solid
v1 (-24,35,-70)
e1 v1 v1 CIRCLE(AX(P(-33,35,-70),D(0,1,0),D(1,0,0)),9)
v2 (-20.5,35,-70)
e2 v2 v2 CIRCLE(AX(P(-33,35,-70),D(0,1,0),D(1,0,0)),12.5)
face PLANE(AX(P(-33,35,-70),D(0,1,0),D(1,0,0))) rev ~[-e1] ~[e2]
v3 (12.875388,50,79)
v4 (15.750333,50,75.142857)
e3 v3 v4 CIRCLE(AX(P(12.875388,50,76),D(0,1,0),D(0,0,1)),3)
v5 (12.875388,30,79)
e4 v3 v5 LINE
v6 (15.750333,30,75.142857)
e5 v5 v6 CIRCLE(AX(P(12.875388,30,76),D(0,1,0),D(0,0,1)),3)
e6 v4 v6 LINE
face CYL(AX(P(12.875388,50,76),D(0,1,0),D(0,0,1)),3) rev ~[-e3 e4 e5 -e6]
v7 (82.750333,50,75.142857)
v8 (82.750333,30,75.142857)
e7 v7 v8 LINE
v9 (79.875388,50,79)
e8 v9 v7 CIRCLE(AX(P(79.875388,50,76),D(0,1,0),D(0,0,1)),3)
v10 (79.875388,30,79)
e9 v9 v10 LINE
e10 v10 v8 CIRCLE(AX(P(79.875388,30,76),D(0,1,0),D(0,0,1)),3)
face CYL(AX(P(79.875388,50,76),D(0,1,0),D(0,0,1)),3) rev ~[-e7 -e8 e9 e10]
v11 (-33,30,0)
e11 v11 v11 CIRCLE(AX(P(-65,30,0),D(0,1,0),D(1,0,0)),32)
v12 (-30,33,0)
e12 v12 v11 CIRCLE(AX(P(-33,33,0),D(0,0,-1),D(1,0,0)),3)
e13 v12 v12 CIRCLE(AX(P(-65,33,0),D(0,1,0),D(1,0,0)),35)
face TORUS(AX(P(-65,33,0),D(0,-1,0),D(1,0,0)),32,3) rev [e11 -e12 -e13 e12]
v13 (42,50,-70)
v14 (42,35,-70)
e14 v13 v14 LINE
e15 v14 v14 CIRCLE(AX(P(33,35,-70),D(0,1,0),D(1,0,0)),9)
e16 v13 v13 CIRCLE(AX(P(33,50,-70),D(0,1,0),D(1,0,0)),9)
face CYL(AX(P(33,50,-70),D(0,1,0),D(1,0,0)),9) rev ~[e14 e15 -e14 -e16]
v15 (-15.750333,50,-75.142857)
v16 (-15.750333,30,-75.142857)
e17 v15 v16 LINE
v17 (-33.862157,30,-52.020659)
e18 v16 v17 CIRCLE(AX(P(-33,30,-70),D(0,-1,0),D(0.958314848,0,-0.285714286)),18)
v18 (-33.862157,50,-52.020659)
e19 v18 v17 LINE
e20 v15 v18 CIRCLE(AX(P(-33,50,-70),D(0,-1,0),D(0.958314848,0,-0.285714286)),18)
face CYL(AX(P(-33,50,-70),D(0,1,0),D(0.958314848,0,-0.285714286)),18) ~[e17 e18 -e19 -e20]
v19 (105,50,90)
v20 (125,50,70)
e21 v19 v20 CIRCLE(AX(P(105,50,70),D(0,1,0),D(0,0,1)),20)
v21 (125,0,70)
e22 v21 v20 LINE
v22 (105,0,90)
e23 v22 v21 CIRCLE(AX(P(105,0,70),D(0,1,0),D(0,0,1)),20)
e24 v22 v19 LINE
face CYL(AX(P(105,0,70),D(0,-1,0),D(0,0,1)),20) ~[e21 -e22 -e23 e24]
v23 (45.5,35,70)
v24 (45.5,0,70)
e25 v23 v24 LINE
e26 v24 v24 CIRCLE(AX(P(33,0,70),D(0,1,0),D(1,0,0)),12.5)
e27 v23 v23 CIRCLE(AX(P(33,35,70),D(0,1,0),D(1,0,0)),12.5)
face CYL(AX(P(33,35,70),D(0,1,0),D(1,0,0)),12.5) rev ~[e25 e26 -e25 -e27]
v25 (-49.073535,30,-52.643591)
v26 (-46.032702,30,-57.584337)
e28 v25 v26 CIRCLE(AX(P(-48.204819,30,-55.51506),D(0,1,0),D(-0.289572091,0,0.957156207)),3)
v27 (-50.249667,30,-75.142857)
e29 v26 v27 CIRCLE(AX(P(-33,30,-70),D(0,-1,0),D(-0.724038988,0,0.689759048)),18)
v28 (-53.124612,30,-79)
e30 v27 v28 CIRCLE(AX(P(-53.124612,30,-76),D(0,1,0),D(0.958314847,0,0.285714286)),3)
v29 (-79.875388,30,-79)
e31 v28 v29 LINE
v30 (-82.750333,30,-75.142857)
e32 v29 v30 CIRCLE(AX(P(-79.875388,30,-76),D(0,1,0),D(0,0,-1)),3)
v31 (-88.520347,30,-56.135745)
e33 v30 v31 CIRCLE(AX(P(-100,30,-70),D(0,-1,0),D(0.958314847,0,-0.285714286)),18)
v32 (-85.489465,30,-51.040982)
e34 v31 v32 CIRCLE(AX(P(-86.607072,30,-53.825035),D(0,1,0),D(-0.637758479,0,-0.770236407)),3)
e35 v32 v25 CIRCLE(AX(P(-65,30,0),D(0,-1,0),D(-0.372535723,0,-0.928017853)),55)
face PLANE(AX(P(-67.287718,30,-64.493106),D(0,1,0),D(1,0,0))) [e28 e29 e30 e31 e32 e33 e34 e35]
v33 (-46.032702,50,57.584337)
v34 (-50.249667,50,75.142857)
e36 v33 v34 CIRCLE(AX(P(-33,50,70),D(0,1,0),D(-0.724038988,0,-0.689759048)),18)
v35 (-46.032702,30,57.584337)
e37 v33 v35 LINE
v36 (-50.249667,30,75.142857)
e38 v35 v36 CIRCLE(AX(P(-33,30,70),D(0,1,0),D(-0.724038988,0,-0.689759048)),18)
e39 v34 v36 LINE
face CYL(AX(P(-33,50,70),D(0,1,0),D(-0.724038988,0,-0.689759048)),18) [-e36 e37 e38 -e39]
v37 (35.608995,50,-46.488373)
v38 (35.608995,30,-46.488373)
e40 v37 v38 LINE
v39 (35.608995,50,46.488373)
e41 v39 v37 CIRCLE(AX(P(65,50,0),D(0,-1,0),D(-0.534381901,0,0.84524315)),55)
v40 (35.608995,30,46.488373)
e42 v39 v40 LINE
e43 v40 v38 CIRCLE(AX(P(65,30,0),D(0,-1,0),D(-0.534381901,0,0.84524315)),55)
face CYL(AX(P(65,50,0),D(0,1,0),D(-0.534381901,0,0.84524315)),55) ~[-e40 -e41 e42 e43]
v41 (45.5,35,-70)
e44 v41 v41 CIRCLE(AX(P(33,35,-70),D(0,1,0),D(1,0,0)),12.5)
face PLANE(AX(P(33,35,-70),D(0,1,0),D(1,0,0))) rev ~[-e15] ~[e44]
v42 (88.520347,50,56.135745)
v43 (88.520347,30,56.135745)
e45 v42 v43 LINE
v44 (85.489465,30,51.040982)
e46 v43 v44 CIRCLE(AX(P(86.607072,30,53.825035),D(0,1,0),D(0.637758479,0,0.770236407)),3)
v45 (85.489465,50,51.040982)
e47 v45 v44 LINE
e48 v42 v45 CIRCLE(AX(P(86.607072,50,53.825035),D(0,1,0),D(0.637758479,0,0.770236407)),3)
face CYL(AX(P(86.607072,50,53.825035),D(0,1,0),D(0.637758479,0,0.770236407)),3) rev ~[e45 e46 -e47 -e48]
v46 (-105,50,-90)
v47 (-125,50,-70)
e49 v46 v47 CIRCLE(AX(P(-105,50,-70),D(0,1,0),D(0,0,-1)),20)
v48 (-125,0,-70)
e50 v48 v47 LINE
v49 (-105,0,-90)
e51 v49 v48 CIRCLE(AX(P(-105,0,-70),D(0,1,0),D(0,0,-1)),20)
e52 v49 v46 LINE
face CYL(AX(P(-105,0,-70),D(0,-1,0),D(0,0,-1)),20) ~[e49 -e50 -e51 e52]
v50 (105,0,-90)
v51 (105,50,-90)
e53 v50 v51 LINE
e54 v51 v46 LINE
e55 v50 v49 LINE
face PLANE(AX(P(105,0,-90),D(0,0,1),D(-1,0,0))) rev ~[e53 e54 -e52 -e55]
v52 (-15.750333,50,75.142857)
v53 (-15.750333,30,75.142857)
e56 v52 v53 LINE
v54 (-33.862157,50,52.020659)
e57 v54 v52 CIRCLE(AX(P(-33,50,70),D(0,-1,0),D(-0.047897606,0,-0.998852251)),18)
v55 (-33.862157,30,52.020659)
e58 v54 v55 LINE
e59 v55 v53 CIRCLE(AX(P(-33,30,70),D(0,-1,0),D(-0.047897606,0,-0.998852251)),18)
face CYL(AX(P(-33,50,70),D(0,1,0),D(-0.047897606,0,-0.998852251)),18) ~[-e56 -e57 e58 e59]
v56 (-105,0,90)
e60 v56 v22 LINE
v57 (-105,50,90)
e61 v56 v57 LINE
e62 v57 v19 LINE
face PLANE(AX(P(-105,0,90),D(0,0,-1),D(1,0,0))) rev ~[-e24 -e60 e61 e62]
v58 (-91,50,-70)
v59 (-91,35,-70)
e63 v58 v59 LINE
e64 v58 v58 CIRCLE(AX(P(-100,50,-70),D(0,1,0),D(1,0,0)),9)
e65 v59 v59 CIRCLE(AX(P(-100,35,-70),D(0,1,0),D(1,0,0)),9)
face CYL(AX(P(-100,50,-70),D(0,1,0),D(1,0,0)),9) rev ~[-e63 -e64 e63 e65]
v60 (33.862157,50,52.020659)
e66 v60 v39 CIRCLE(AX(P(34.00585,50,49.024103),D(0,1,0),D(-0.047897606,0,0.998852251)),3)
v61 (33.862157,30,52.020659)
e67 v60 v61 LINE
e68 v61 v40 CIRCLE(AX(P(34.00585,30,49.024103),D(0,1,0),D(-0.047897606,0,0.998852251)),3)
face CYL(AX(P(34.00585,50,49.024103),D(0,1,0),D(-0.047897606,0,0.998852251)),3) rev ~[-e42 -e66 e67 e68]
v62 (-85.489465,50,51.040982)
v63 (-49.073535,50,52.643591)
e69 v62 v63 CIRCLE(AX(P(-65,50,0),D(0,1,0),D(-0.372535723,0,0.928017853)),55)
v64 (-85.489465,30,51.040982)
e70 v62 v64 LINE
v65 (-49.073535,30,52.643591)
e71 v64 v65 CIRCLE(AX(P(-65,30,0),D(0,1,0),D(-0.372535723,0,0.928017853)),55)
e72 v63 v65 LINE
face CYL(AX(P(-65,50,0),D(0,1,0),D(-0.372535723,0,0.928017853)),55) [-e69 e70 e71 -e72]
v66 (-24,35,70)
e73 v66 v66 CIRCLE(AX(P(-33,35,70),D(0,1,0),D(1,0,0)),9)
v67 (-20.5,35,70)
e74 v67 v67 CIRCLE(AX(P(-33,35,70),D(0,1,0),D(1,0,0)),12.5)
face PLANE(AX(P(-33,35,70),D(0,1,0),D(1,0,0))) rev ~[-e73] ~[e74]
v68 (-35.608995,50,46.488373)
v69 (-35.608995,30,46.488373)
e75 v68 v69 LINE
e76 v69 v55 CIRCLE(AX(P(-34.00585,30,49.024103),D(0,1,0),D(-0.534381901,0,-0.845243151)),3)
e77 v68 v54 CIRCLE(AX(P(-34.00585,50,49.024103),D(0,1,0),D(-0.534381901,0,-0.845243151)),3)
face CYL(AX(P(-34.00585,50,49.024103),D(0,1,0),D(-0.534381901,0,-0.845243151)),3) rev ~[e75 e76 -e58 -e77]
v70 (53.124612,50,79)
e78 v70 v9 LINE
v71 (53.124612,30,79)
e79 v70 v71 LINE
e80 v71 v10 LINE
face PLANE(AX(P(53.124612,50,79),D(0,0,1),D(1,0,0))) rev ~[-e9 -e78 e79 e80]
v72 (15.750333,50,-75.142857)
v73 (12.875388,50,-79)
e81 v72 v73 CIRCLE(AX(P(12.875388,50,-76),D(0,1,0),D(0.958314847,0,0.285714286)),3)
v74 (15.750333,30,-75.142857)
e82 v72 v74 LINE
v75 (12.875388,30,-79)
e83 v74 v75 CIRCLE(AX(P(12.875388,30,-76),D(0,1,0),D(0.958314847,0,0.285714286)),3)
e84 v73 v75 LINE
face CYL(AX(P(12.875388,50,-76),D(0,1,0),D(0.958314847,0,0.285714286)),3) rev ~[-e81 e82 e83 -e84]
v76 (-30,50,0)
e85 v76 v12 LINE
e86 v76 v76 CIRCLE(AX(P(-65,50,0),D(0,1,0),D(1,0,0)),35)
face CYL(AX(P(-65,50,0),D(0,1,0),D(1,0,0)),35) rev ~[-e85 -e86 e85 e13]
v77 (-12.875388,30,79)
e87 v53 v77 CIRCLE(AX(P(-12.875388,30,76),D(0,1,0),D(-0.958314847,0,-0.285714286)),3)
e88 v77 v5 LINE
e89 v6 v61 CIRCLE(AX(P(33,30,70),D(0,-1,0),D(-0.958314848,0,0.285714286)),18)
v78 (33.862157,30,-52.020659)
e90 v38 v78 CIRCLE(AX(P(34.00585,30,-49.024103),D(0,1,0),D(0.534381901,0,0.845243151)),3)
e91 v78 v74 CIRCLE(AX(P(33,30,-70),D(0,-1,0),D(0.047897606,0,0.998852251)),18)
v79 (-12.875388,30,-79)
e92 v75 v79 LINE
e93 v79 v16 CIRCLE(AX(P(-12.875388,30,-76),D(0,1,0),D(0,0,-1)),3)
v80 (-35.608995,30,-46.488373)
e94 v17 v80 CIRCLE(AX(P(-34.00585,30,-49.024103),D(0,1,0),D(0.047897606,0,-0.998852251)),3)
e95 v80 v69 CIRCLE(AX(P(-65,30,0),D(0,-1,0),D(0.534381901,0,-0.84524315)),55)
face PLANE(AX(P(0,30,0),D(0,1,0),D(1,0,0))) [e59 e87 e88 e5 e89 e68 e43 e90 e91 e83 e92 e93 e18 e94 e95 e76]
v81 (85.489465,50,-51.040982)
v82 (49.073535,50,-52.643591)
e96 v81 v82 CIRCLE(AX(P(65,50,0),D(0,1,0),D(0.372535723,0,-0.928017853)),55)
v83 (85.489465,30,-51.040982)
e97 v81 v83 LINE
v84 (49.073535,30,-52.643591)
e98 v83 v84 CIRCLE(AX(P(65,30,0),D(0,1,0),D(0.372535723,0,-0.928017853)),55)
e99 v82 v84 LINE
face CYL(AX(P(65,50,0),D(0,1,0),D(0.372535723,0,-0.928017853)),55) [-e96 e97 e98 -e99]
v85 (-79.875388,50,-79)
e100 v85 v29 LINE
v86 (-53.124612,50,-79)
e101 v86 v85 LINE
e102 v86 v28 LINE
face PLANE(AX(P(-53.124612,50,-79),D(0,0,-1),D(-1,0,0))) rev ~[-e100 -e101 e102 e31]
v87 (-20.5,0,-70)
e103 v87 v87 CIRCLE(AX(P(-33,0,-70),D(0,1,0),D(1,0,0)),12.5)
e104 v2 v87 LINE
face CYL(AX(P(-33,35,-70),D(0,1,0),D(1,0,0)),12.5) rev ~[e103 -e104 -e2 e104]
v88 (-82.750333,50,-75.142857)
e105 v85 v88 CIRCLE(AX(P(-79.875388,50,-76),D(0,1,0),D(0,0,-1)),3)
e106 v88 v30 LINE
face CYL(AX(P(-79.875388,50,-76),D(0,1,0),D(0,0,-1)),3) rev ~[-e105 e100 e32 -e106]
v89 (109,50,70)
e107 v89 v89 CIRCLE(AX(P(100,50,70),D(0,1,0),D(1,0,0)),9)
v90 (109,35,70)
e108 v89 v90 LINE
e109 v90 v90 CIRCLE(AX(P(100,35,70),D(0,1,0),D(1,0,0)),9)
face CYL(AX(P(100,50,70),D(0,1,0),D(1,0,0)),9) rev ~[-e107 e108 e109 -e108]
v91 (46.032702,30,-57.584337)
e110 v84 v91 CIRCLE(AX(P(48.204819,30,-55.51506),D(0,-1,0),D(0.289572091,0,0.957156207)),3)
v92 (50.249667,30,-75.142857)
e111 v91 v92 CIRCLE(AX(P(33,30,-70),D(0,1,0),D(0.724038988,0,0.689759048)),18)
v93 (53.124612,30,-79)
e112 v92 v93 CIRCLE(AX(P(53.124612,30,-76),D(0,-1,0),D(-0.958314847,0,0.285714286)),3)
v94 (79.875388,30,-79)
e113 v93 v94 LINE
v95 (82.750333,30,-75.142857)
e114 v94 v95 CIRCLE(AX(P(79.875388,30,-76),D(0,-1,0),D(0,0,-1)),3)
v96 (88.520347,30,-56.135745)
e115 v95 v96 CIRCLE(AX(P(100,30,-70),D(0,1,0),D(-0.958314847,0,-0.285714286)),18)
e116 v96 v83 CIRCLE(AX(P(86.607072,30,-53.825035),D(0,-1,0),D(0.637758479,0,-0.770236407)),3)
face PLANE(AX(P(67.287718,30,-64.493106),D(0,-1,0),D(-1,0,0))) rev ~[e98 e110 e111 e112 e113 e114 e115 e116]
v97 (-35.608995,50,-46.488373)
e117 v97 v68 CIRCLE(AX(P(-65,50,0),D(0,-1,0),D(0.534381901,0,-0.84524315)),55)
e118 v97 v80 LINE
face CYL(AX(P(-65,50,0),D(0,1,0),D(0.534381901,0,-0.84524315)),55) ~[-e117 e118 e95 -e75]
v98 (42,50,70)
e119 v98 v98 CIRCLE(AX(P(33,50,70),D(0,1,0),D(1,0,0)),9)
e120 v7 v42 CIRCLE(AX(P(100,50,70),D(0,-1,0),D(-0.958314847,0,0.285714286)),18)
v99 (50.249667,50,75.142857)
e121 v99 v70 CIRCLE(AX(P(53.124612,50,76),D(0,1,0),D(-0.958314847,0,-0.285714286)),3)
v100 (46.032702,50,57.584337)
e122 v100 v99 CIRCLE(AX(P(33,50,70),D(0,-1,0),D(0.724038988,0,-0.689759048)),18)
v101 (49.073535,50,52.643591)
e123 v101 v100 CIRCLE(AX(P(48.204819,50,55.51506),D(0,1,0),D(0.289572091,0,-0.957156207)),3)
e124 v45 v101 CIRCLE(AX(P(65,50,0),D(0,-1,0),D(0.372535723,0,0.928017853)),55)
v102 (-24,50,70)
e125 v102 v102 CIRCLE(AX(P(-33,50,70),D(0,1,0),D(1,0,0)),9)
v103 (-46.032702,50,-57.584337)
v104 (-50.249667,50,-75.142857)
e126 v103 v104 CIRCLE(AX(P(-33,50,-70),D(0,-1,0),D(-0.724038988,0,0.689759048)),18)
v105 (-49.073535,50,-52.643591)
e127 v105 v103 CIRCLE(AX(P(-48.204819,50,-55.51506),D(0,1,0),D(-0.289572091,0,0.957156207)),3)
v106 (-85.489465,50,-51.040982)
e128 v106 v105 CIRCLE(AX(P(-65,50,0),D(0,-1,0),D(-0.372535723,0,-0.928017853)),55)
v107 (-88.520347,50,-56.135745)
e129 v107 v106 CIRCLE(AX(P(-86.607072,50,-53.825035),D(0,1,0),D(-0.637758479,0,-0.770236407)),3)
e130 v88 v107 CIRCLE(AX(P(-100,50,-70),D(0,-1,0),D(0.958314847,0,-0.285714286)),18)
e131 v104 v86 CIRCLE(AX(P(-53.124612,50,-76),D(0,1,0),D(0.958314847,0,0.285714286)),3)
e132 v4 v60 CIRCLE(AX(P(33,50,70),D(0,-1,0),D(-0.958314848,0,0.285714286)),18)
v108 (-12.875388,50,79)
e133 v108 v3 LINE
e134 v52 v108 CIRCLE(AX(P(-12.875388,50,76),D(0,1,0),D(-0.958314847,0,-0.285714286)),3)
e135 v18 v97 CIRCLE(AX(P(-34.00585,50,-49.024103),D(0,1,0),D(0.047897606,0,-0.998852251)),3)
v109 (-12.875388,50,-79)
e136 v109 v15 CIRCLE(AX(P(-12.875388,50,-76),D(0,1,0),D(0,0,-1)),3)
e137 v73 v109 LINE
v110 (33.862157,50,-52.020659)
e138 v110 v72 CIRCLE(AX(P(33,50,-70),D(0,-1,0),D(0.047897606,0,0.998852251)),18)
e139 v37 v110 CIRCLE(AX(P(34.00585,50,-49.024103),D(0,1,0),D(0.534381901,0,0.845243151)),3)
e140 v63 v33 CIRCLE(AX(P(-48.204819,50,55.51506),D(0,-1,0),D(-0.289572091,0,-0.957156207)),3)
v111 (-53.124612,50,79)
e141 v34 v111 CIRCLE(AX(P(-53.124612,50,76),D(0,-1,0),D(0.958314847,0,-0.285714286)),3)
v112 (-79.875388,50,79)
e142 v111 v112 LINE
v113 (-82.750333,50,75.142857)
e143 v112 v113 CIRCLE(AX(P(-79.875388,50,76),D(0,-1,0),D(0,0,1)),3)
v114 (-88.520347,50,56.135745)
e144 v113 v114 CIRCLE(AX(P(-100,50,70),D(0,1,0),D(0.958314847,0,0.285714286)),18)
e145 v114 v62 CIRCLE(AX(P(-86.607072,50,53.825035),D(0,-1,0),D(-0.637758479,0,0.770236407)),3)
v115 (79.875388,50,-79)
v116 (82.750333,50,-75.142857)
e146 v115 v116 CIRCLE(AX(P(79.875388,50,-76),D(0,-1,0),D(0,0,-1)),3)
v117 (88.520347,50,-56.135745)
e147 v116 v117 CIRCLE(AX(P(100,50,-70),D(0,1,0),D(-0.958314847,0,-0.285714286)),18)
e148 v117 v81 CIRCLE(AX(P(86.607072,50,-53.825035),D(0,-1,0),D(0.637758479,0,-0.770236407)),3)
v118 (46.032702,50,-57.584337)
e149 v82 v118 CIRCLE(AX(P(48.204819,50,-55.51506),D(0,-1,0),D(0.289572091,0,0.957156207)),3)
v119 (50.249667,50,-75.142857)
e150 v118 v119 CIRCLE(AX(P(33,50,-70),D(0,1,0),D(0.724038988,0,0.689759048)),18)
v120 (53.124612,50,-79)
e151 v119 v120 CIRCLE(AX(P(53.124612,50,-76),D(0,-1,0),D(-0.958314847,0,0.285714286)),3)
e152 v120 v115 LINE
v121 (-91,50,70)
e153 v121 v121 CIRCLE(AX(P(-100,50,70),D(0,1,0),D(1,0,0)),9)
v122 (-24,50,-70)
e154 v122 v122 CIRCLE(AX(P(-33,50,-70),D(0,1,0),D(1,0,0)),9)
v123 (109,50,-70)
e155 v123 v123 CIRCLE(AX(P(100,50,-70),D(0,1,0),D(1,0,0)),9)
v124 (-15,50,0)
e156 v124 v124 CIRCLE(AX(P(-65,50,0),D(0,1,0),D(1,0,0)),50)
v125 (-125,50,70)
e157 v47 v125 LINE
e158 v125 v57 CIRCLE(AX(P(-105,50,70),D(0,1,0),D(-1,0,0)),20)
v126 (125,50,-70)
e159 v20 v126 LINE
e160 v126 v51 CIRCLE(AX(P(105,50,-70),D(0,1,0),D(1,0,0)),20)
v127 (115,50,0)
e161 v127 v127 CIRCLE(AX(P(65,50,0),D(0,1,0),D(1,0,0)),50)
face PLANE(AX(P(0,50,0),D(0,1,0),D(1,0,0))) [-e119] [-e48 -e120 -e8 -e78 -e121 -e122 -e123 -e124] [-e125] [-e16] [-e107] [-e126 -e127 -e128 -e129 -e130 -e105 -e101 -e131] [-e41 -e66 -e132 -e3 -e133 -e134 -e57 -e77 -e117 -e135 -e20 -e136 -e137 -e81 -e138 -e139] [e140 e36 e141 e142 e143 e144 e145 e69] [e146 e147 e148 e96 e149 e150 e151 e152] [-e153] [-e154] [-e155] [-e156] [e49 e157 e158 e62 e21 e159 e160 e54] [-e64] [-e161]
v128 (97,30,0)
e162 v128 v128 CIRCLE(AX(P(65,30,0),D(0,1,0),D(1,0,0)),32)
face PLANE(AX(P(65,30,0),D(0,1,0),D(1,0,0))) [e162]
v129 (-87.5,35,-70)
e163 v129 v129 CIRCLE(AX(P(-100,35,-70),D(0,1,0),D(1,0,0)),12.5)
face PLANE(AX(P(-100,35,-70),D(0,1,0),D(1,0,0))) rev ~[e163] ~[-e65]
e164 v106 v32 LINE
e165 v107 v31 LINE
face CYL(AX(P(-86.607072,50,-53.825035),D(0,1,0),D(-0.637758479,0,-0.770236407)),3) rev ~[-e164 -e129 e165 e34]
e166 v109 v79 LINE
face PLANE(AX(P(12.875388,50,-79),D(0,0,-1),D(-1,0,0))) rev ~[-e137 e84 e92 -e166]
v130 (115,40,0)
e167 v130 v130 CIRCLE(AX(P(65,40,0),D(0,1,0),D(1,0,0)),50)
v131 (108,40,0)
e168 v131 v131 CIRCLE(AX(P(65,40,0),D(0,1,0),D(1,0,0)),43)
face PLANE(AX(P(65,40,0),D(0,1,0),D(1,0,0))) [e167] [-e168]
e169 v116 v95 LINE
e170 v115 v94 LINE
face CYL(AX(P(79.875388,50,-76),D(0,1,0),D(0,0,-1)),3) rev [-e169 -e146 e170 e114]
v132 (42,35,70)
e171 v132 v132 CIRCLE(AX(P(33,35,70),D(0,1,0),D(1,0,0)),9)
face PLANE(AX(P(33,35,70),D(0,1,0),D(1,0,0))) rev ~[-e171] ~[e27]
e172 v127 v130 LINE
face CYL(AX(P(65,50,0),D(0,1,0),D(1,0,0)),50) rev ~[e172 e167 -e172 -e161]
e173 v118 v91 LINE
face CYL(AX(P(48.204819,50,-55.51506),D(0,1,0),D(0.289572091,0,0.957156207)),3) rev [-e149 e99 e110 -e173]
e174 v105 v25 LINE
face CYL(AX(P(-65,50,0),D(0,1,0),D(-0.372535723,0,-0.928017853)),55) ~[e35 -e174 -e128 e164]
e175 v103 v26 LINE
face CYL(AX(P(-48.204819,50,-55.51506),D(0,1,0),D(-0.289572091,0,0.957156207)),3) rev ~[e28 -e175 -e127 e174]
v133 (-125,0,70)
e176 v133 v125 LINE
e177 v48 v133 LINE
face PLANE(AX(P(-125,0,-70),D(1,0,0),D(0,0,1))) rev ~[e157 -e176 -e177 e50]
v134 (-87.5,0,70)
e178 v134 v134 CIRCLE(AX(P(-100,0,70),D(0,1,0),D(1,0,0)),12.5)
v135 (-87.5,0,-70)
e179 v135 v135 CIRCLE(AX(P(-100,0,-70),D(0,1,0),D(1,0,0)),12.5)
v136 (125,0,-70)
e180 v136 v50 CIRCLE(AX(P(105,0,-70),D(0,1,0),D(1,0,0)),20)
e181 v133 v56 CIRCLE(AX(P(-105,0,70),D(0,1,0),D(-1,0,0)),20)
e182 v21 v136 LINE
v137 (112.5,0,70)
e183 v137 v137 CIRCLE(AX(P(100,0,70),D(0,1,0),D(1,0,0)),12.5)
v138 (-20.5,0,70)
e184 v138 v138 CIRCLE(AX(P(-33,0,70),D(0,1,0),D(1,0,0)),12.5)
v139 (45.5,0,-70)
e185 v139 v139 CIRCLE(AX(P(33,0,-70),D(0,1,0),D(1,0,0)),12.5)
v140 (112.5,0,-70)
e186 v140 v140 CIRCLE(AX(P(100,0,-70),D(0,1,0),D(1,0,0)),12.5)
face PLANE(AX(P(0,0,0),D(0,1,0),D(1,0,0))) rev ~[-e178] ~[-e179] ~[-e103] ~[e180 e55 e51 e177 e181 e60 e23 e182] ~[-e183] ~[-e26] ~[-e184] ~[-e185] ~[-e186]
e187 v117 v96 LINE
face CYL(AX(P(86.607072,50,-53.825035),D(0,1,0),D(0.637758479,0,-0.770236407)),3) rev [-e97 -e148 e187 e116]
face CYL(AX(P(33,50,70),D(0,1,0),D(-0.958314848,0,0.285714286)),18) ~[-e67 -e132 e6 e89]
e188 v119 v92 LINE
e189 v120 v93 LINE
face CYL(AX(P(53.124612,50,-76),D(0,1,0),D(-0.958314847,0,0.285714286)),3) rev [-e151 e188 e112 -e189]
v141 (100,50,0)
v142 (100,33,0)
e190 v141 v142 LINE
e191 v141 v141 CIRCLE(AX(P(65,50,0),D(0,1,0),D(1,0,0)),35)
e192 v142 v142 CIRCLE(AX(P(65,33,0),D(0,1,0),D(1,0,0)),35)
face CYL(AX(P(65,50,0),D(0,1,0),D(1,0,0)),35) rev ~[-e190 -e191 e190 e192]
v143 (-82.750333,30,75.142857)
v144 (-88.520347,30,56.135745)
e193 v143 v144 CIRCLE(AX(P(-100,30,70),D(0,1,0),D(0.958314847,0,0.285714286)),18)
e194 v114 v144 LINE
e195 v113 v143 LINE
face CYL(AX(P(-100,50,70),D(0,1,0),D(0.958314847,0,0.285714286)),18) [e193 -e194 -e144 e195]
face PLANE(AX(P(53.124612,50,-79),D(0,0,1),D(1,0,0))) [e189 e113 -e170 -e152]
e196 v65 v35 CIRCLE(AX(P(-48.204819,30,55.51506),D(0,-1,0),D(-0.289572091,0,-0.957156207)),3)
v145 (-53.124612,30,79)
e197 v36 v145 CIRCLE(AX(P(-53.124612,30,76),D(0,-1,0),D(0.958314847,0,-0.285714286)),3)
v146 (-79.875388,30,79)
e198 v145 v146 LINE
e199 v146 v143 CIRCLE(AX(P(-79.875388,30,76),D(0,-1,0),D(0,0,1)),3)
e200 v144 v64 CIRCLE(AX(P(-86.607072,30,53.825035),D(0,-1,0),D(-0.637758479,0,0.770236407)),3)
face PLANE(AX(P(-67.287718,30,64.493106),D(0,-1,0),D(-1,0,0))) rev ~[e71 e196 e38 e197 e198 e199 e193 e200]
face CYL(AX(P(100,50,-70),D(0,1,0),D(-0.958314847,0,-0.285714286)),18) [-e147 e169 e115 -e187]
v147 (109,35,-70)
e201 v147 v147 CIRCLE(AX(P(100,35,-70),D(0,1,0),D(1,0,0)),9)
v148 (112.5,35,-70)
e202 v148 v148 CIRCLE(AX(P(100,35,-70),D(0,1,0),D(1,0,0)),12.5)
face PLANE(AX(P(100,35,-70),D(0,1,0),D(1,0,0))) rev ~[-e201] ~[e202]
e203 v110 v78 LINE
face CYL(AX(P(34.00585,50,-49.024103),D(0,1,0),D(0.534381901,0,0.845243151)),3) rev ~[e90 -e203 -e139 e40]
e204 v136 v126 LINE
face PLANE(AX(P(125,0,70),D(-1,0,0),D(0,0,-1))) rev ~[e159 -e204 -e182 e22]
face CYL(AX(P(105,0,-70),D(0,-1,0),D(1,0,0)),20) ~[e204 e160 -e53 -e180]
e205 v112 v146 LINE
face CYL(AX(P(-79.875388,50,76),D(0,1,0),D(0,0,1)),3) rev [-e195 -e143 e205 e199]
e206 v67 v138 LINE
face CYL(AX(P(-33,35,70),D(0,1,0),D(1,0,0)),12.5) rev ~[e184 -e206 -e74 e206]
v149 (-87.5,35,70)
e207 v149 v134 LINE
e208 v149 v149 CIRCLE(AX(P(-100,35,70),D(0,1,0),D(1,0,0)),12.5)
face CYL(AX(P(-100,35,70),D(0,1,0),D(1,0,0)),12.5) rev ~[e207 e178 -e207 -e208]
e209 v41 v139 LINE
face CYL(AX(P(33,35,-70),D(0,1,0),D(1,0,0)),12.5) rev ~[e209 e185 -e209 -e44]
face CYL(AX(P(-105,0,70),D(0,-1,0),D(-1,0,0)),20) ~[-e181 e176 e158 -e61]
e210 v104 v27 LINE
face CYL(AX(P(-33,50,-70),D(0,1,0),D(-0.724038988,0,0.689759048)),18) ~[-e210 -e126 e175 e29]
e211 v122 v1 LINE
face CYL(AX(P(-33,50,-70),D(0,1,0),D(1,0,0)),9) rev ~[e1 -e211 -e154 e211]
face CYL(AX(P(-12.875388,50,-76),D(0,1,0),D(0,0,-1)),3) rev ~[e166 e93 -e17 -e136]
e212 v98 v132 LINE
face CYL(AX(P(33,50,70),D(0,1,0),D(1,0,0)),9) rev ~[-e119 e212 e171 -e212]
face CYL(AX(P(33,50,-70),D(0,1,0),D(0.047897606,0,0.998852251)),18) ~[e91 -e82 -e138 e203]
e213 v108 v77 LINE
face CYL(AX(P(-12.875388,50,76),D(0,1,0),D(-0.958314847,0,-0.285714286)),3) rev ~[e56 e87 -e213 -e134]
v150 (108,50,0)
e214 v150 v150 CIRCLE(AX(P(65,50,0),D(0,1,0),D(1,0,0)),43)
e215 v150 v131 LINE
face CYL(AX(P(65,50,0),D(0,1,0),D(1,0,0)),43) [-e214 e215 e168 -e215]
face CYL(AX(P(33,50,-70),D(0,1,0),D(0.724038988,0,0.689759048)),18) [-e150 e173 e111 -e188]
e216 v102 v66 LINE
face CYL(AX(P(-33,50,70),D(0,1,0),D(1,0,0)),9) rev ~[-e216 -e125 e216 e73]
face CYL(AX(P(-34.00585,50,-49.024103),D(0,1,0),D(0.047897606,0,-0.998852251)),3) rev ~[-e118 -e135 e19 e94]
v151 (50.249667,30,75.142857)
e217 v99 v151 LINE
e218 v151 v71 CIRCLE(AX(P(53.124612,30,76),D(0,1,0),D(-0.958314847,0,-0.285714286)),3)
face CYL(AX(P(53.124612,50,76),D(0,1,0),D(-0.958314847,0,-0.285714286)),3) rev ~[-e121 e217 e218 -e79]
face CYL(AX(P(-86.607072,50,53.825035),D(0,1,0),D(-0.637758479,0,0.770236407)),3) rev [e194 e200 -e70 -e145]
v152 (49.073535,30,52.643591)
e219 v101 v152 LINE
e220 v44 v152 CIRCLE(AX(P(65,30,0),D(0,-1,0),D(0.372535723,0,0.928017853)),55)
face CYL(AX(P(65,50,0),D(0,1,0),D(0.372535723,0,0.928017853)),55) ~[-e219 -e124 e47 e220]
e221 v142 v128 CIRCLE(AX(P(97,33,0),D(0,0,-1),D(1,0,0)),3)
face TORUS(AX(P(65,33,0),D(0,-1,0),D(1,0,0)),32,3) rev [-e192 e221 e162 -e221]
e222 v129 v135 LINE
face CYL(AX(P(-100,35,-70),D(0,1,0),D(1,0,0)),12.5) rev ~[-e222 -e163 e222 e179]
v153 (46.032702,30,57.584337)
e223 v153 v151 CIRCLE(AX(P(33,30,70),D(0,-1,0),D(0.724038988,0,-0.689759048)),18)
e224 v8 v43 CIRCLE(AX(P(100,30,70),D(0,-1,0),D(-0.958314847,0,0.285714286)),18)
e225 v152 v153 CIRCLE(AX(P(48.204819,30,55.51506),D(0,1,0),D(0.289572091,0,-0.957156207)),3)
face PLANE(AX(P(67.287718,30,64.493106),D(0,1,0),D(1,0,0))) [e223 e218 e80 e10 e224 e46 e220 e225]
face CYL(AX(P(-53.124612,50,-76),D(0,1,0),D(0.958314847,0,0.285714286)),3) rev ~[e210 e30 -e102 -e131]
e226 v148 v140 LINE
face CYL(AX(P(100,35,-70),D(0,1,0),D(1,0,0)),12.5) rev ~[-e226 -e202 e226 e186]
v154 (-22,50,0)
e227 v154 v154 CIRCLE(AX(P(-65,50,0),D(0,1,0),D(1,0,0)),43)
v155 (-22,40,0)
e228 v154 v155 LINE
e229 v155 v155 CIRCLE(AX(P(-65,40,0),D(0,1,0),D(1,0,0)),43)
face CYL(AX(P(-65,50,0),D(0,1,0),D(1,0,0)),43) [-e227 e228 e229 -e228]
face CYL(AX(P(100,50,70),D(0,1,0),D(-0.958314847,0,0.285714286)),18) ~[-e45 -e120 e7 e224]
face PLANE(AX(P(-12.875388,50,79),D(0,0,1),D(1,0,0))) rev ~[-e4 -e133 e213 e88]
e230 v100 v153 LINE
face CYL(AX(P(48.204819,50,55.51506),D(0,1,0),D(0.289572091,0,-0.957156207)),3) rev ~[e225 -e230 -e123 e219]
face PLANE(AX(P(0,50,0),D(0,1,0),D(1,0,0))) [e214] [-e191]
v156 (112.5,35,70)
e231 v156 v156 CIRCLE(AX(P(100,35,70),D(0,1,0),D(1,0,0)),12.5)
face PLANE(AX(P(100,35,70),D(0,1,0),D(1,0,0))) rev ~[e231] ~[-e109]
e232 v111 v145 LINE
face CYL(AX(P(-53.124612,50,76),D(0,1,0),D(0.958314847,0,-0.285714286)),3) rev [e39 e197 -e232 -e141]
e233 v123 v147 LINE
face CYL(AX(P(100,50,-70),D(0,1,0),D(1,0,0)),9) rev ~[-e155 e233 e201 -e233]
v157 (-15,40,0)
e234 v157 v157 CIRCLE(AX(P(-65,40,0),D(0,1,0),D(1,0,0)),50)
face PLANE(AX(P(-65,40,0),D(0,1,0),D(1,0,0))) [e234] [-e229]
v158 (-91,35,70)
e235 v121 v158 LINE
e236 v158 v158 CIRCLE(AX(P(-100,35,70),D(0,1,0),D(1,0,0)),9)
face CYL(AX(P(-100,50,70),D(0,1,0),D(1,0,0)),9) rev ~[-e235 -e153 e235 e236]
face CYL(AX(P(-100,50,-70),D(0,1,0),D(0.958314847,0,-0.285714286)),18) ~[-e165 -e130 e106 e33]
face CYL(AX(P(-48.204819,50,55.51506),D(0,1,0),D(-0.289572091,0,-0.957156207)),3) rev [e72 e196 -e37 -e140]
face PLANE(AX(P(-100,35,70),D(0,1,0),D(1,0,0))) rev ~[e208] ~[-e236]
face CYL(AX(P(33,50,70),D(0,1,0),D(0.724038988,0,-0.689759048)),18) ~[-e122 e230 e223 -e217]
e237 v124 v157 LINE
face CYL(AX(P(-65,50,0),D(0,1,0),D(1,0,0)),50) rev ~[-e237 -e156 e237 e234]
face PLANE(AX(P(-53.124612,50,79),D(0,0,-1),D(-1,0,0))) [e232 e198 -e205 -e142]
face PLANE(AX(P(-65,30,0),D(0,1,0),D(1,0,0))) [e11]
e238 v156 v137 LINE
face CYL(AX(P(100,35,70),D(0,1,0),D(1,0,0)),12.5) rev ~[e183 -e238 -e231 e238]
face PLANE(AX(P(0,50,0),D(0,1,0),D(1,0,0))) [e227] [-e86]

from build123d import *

# Parameters (mm, degrees)
BOSS_EXTRUDE1_DEPTH = 50
SKETCH2_R           = 9
CUT_EXTRUDE1_DEPTH  = 50
SKETCH4_R           = 12.5
CUT_EXTRUDE2_DEPTH  = 35
SKETCH7_R           = 35
CUT_EXTRUDE3_DEPTH  = 20
FILLET1_R           = 3
SKETCH8_R           = 50
SKETCH8_R_2         = 43
CUT_EXTRUDE4_DEPTH  = 10
CUT_EXTRUDE5_DEPTH  = 20


with BuildPart() as part:
    # Sketch1 → Boss-Extrude1 (new body)
    with BuildSketch(Plane(origin=(0, 0, 0), x_dir=(1, 0, 0), z_dir=(0, 1, 0))):
        with BuildLine():
            Line((-105, -90), (105, -90))
            ThreePointArc((105, -90), (119.142135624, -84.142135624), (125, -70))
            Line((125, -70), (125, 70))
            ThreePointArc((125, 70), (119.142135624, 84.142135624), (105, 90))
            Line((105, 90), (-105, 90))
            ThreePointArc((-105, 90), (-119.142135624, 84.142135624), (-125, 70))
            Line((-125, 70), (-125, -70))
            ThreePointArc((-125, -70), (-119.142135624, -84.142135624), (-105, -90))
        make_face()
    extrude(amount=BOSS_EXTRUDE1_DEPTH)

    # Sketch2 → Cut-Extrude1 (cut)
    with BuildSketch(Plane(origin=(0, 50, 0), x_dir=(1, 0, 0), z_dir=(0, 1, 0))):
        with Locations((-100, -70)):
            Circle(SKETCH2_R)
        with Locations((-33, -70)):
            Circle(SKETCH2_R)
        with Locations((33, -70)):
            Circle(SKETCH2_R)
        with Locations((100, -70)):
            Circle(SKETCH2_R)
        with Locations((100, 70)):
            Circle(SKETCH2_R)
        with Locations((33, 70)):
            Circle(SKETCH2_R)
        with Locations((-33, 70)):
            Circle(SKETCH2_R)
        with Locations((-100, 70)):
            Circle(SKETCH2_R)
    extrude(amount=-CUT_EXTRUDE1_DEPTH, mode=Mode.SUBTRACT)

    # Sketch4 → Cut-Extrude2 (cut)
    with BuildSketch(Plane(origin=(0, 35, 0), x_dir=(1, 0, 0), z_dir=(0, 1, 0))):
        with Locations((-100, -70)):
            Circle(SKETCH4_R)
        with Locations((-33, -70)):
            Circle(SKETCH4_R)
        with Locations((33, -70)):
            Circle(SKETCH4_R)
        with Locations((100, -70)):
            Circle(SKETCH4_R)
        with Locations((100, 70)):
            Circle(SKETCH4_R)
        with Locations((33, 70)):
            Circle(SKETCH4_R)
        with Locations((-33, 70)):
            Circle(SKETCH4_R)
        with Locations((-100, 70)):
            Circle(SKETCH4_R)
    extrude(amount=-CUT_EXTRUDE2_DEPTH, mode=Mode.SUBTRACT)

    # Sketch7 → Cut-Extrude3 (cut)
    with BuildSketch(Plane(origin=(0, 50, 0), x_dir=(1, 0, 0), z_dir=(0, 1, 0))):
        with Locations((-65, 0)):
            Circle(SKETCH7_R)
        with Locations((65, 0)):
            Circle(SKETCH7_R)
    extrude(amount=-CUT_EXTRUDE3_DEPTH, mode=Mode.SUBTRACT)

    # Fillet1
    fillet1_edges = [part.edges().sort_by_distance(p)[0] for p in [
        (-100, 30, 0),
        (30, 30, 0),
    ]]
    fillet(fillet1_edges, radius=FILLET1_R)

    # Sketch8 → Cut-Extrude4 (cut)
    with BuildSketch(Plane(origin=(0, 50, 0), x_dir=(1, 0, 0), z_dir=(0, 1, 0))):
        with Locations((-65, 0)):
            Circle(SKETCH8_R)
        with Locations((-65, 0)):
            Circle(SKETCH8_R_2, mode=Mode.SUBTRACT)
        with Locations((65, 0)):
            Circle(SKETCH8_R)
        with Locations((65, 0)):
            Circle(SKETCH8_R_2, mode=Mode.SUBTRACT)
    extrude(amount=-CUT_EXTRUDE4_DEPTH, mode=Mode.SUBTRACT)

    # Sketch9 → Cut-Extrude5 (cut)
    with BuildSketch(Plane(origin=(0, 50, 0), x_dir=(1, 0, 0), z_dir=(0, 1, 0))):
        with BuildLine():
            Line((-53.124611797, -79), (-79.875388203, -79))
            ThreePointArc((-79.875388203, -79), (-82.28073938, -77.792842914), (-82.750332745, -75.142857143))
            ThreePointArc((-82.750332745, -75.142857143), (-82.776149203, -64.771332509), (-88.520347372, -56.135744681))
            ThreePointArc((-88.520347372, -56.135744681), (-89.185331801, -52.291224502), (-85.489464765, -51.040981903))
            ThreePointArc((-85.489464765, -51.040981903), (-67.418125523, -54.946816732), (-49.07353502, -52.643591379))
            ThreePointArc((-49.07353502, -52.643591379), (-45.649930196, -53.942627335), (-46.032701785, -57.584337142))
            ThreePointArc((-46.032701785, -57.584337142), (-50.502310556, -65.796534146), (-50.249667255, -75.142857143))
            ThreePointArc((-50.249667255, -75.142857143), (-50.71926062, -77.792842914), (-53.124611797, -79))
        make_face()
        with BuildLine():
            Line((53.124611797, 79), (79.875388203, 79))
            ThreePointArc((79.875388203, 79), (82.28073938, 77.792842914), (82.750332745, 75.142857143))
            ThreePointArc((82.750332745, 75.142857143), (82.776149203, 64.771332509), (88.520347372, 56.135744681))
            ThreePointArc((88.520347372, 56.135744681), (89.185331801, 52.291224502), (85.489464765, 51.040981903))
            ThreePointArc((85.489464765, 51.040981903), (67.418125523, 54.946816732), (49.07353502, 52.643591379))
            ThreePointArc((49.07353502, 52.643591379), (45.649930196, 53.942627335), (46.032701785, 57.584337142))
            ThreePointArc((46.032701785, 57.584337142), (50.502310556, 65.796534146), (50.249667255, 75.142857143))
            ThreePointArc((50.249667255, 75.142857143), (50.71926062, 77.792842914), (53.124611797, 79))
        make_face()
        with BuildLine():
            Line((-53.124611797, 79), (-79.875388203, 79))
            ThreePointArc((-79.875388203, 79), (-82.28073938, 77.792842914), (-82.750332745, 75.142857143))
            ThreePointArc((-82.750332745, 75.142857143), (-82.776149203, 64.771332509), (-88.520347372, 56.135744681))
            ThreePointArc((-88.520347372, 56.135744681), (-89.185331801, 52.291224502), (-85.489464765, 51.040981903))
            ThreePointArc((-85.489464765, 51.040981903), (-67.418125523, 54.946816732), (-49.07353502, 52.643591379))
            ThreePointArc((-49.07353502, 52.643591379), (-45.649930196, 53.942627335), (-46.032701785, 57.584337142))
            ThreePointArc((-46.032701785, 57.584337142), (-50.502310556, 65.796534146), (-50.249667255, 75.142857143))
            ThreePointArc((-50.249667255, 75.142857143), (-50.71926062, 77.792842914), (-53.124611797, 79))
        make_face()
        with BuildLine():
            Line((-12.875388203, -79), (12.875388203, -79))
            ThreePointArc((12.875388203, -79), (15.28073938, -77.792842914), (15.750332745, -75.142857143))
            ThreePointArc((15.750332745, -75.142857143), (18.829727241, -58.900298656), (33.862156902, -52.020659482))
            ThreePointArc((33.862156902, -52.020659482), (36.866627296, -49.927403152), (35.608995423, -46.488373277))
            ThreePointArc((35.608995423, -46.488373277), (10, 0), (35.608995423, 46.488373277))
            ThreePointArc((35.608995423, 46.488373277), (36.866627296, 49.927403152), (33.862156902, 52.020659482))
            ThreePointArc((33.862156902, 52.020659482), (18.829727241, 58.900298656), (15.750332745, 75.142857143))
            ThreePointArc((15.750332745, 75.142857143), (15.28073938, 77.792842914), (12.875388203, 79))
            Line((12.875388203, 79), (-12.875388203, 79))
            ThreePointArc((-12.875388203, 79), (-15.28073938, 77.792842914), (-15.750332745, 75.142857143))
            ThreePointArc((-15.750332745, 75.142857143), (-18.829727241, 58.900298656), (-33.862156902, 52.020659482))
            ThreePointArc((-33.862156902, 52.020659482), (-36.866627296, 49.927403152), (-35.608995423, 46.488373277))
            ThreePointArc((-35.608995423, 46.488373277), (-10, 0), (-35.608995423, -46.488373277))
            ThreePointArc((-35.608995423, -46.488373277), (-36.866627296, -49.927403152), (-33.862156902, -52.020659482))
            ThreePointArc((-33.862156902, -52.020659482), (-18.829727241, -58.900298656), (-15.750332745, -75.142857143))
            ThreePointArc((-15.750332745, -75.142857143), (-15.28073938, -77.792842914), (-12.875388203, -79))
        make_face()
        with BuildLine():
            Line((53.124611797, -79), (79.875388203, -79))
            ThreePointArc((79.875388203, -79), (82.28073938, -77.792842914), (82.750332745, -75.142857143))
            ThreePointArc((82.750332745, -75.142857143), (82.776149203, -64.771332509), (88.520347372, -56.135744681))
            ThreePointArc((88.520347372, -56.135744681), (89.185331801, -52.291224502), (85.489464765, -51.040981903))
            ThreePointArc((85.489464765, -51.040981903), (67.418125523, -54.946816732), (49.07353502, -52.643591379))
            ThreePointArc((49.07353502, -52.643591379), (45.649930196, -53.942627335), (46.032701785, -57.584337142))
            ThreePointArc((46.032701785, -57.584337142), (50.502310556, -65.796534146), (50.249667255, -75.142857143))
            ThreePointArc((50.249667255, -75.142857143), (50.71926062, -77.792842914), (53.124611797, -79))
        make_face()
    extrude(amount=-CUT_EXTRUDE5_DEPTH, mode=Mode.SUBTRACT)


solid = part.part
